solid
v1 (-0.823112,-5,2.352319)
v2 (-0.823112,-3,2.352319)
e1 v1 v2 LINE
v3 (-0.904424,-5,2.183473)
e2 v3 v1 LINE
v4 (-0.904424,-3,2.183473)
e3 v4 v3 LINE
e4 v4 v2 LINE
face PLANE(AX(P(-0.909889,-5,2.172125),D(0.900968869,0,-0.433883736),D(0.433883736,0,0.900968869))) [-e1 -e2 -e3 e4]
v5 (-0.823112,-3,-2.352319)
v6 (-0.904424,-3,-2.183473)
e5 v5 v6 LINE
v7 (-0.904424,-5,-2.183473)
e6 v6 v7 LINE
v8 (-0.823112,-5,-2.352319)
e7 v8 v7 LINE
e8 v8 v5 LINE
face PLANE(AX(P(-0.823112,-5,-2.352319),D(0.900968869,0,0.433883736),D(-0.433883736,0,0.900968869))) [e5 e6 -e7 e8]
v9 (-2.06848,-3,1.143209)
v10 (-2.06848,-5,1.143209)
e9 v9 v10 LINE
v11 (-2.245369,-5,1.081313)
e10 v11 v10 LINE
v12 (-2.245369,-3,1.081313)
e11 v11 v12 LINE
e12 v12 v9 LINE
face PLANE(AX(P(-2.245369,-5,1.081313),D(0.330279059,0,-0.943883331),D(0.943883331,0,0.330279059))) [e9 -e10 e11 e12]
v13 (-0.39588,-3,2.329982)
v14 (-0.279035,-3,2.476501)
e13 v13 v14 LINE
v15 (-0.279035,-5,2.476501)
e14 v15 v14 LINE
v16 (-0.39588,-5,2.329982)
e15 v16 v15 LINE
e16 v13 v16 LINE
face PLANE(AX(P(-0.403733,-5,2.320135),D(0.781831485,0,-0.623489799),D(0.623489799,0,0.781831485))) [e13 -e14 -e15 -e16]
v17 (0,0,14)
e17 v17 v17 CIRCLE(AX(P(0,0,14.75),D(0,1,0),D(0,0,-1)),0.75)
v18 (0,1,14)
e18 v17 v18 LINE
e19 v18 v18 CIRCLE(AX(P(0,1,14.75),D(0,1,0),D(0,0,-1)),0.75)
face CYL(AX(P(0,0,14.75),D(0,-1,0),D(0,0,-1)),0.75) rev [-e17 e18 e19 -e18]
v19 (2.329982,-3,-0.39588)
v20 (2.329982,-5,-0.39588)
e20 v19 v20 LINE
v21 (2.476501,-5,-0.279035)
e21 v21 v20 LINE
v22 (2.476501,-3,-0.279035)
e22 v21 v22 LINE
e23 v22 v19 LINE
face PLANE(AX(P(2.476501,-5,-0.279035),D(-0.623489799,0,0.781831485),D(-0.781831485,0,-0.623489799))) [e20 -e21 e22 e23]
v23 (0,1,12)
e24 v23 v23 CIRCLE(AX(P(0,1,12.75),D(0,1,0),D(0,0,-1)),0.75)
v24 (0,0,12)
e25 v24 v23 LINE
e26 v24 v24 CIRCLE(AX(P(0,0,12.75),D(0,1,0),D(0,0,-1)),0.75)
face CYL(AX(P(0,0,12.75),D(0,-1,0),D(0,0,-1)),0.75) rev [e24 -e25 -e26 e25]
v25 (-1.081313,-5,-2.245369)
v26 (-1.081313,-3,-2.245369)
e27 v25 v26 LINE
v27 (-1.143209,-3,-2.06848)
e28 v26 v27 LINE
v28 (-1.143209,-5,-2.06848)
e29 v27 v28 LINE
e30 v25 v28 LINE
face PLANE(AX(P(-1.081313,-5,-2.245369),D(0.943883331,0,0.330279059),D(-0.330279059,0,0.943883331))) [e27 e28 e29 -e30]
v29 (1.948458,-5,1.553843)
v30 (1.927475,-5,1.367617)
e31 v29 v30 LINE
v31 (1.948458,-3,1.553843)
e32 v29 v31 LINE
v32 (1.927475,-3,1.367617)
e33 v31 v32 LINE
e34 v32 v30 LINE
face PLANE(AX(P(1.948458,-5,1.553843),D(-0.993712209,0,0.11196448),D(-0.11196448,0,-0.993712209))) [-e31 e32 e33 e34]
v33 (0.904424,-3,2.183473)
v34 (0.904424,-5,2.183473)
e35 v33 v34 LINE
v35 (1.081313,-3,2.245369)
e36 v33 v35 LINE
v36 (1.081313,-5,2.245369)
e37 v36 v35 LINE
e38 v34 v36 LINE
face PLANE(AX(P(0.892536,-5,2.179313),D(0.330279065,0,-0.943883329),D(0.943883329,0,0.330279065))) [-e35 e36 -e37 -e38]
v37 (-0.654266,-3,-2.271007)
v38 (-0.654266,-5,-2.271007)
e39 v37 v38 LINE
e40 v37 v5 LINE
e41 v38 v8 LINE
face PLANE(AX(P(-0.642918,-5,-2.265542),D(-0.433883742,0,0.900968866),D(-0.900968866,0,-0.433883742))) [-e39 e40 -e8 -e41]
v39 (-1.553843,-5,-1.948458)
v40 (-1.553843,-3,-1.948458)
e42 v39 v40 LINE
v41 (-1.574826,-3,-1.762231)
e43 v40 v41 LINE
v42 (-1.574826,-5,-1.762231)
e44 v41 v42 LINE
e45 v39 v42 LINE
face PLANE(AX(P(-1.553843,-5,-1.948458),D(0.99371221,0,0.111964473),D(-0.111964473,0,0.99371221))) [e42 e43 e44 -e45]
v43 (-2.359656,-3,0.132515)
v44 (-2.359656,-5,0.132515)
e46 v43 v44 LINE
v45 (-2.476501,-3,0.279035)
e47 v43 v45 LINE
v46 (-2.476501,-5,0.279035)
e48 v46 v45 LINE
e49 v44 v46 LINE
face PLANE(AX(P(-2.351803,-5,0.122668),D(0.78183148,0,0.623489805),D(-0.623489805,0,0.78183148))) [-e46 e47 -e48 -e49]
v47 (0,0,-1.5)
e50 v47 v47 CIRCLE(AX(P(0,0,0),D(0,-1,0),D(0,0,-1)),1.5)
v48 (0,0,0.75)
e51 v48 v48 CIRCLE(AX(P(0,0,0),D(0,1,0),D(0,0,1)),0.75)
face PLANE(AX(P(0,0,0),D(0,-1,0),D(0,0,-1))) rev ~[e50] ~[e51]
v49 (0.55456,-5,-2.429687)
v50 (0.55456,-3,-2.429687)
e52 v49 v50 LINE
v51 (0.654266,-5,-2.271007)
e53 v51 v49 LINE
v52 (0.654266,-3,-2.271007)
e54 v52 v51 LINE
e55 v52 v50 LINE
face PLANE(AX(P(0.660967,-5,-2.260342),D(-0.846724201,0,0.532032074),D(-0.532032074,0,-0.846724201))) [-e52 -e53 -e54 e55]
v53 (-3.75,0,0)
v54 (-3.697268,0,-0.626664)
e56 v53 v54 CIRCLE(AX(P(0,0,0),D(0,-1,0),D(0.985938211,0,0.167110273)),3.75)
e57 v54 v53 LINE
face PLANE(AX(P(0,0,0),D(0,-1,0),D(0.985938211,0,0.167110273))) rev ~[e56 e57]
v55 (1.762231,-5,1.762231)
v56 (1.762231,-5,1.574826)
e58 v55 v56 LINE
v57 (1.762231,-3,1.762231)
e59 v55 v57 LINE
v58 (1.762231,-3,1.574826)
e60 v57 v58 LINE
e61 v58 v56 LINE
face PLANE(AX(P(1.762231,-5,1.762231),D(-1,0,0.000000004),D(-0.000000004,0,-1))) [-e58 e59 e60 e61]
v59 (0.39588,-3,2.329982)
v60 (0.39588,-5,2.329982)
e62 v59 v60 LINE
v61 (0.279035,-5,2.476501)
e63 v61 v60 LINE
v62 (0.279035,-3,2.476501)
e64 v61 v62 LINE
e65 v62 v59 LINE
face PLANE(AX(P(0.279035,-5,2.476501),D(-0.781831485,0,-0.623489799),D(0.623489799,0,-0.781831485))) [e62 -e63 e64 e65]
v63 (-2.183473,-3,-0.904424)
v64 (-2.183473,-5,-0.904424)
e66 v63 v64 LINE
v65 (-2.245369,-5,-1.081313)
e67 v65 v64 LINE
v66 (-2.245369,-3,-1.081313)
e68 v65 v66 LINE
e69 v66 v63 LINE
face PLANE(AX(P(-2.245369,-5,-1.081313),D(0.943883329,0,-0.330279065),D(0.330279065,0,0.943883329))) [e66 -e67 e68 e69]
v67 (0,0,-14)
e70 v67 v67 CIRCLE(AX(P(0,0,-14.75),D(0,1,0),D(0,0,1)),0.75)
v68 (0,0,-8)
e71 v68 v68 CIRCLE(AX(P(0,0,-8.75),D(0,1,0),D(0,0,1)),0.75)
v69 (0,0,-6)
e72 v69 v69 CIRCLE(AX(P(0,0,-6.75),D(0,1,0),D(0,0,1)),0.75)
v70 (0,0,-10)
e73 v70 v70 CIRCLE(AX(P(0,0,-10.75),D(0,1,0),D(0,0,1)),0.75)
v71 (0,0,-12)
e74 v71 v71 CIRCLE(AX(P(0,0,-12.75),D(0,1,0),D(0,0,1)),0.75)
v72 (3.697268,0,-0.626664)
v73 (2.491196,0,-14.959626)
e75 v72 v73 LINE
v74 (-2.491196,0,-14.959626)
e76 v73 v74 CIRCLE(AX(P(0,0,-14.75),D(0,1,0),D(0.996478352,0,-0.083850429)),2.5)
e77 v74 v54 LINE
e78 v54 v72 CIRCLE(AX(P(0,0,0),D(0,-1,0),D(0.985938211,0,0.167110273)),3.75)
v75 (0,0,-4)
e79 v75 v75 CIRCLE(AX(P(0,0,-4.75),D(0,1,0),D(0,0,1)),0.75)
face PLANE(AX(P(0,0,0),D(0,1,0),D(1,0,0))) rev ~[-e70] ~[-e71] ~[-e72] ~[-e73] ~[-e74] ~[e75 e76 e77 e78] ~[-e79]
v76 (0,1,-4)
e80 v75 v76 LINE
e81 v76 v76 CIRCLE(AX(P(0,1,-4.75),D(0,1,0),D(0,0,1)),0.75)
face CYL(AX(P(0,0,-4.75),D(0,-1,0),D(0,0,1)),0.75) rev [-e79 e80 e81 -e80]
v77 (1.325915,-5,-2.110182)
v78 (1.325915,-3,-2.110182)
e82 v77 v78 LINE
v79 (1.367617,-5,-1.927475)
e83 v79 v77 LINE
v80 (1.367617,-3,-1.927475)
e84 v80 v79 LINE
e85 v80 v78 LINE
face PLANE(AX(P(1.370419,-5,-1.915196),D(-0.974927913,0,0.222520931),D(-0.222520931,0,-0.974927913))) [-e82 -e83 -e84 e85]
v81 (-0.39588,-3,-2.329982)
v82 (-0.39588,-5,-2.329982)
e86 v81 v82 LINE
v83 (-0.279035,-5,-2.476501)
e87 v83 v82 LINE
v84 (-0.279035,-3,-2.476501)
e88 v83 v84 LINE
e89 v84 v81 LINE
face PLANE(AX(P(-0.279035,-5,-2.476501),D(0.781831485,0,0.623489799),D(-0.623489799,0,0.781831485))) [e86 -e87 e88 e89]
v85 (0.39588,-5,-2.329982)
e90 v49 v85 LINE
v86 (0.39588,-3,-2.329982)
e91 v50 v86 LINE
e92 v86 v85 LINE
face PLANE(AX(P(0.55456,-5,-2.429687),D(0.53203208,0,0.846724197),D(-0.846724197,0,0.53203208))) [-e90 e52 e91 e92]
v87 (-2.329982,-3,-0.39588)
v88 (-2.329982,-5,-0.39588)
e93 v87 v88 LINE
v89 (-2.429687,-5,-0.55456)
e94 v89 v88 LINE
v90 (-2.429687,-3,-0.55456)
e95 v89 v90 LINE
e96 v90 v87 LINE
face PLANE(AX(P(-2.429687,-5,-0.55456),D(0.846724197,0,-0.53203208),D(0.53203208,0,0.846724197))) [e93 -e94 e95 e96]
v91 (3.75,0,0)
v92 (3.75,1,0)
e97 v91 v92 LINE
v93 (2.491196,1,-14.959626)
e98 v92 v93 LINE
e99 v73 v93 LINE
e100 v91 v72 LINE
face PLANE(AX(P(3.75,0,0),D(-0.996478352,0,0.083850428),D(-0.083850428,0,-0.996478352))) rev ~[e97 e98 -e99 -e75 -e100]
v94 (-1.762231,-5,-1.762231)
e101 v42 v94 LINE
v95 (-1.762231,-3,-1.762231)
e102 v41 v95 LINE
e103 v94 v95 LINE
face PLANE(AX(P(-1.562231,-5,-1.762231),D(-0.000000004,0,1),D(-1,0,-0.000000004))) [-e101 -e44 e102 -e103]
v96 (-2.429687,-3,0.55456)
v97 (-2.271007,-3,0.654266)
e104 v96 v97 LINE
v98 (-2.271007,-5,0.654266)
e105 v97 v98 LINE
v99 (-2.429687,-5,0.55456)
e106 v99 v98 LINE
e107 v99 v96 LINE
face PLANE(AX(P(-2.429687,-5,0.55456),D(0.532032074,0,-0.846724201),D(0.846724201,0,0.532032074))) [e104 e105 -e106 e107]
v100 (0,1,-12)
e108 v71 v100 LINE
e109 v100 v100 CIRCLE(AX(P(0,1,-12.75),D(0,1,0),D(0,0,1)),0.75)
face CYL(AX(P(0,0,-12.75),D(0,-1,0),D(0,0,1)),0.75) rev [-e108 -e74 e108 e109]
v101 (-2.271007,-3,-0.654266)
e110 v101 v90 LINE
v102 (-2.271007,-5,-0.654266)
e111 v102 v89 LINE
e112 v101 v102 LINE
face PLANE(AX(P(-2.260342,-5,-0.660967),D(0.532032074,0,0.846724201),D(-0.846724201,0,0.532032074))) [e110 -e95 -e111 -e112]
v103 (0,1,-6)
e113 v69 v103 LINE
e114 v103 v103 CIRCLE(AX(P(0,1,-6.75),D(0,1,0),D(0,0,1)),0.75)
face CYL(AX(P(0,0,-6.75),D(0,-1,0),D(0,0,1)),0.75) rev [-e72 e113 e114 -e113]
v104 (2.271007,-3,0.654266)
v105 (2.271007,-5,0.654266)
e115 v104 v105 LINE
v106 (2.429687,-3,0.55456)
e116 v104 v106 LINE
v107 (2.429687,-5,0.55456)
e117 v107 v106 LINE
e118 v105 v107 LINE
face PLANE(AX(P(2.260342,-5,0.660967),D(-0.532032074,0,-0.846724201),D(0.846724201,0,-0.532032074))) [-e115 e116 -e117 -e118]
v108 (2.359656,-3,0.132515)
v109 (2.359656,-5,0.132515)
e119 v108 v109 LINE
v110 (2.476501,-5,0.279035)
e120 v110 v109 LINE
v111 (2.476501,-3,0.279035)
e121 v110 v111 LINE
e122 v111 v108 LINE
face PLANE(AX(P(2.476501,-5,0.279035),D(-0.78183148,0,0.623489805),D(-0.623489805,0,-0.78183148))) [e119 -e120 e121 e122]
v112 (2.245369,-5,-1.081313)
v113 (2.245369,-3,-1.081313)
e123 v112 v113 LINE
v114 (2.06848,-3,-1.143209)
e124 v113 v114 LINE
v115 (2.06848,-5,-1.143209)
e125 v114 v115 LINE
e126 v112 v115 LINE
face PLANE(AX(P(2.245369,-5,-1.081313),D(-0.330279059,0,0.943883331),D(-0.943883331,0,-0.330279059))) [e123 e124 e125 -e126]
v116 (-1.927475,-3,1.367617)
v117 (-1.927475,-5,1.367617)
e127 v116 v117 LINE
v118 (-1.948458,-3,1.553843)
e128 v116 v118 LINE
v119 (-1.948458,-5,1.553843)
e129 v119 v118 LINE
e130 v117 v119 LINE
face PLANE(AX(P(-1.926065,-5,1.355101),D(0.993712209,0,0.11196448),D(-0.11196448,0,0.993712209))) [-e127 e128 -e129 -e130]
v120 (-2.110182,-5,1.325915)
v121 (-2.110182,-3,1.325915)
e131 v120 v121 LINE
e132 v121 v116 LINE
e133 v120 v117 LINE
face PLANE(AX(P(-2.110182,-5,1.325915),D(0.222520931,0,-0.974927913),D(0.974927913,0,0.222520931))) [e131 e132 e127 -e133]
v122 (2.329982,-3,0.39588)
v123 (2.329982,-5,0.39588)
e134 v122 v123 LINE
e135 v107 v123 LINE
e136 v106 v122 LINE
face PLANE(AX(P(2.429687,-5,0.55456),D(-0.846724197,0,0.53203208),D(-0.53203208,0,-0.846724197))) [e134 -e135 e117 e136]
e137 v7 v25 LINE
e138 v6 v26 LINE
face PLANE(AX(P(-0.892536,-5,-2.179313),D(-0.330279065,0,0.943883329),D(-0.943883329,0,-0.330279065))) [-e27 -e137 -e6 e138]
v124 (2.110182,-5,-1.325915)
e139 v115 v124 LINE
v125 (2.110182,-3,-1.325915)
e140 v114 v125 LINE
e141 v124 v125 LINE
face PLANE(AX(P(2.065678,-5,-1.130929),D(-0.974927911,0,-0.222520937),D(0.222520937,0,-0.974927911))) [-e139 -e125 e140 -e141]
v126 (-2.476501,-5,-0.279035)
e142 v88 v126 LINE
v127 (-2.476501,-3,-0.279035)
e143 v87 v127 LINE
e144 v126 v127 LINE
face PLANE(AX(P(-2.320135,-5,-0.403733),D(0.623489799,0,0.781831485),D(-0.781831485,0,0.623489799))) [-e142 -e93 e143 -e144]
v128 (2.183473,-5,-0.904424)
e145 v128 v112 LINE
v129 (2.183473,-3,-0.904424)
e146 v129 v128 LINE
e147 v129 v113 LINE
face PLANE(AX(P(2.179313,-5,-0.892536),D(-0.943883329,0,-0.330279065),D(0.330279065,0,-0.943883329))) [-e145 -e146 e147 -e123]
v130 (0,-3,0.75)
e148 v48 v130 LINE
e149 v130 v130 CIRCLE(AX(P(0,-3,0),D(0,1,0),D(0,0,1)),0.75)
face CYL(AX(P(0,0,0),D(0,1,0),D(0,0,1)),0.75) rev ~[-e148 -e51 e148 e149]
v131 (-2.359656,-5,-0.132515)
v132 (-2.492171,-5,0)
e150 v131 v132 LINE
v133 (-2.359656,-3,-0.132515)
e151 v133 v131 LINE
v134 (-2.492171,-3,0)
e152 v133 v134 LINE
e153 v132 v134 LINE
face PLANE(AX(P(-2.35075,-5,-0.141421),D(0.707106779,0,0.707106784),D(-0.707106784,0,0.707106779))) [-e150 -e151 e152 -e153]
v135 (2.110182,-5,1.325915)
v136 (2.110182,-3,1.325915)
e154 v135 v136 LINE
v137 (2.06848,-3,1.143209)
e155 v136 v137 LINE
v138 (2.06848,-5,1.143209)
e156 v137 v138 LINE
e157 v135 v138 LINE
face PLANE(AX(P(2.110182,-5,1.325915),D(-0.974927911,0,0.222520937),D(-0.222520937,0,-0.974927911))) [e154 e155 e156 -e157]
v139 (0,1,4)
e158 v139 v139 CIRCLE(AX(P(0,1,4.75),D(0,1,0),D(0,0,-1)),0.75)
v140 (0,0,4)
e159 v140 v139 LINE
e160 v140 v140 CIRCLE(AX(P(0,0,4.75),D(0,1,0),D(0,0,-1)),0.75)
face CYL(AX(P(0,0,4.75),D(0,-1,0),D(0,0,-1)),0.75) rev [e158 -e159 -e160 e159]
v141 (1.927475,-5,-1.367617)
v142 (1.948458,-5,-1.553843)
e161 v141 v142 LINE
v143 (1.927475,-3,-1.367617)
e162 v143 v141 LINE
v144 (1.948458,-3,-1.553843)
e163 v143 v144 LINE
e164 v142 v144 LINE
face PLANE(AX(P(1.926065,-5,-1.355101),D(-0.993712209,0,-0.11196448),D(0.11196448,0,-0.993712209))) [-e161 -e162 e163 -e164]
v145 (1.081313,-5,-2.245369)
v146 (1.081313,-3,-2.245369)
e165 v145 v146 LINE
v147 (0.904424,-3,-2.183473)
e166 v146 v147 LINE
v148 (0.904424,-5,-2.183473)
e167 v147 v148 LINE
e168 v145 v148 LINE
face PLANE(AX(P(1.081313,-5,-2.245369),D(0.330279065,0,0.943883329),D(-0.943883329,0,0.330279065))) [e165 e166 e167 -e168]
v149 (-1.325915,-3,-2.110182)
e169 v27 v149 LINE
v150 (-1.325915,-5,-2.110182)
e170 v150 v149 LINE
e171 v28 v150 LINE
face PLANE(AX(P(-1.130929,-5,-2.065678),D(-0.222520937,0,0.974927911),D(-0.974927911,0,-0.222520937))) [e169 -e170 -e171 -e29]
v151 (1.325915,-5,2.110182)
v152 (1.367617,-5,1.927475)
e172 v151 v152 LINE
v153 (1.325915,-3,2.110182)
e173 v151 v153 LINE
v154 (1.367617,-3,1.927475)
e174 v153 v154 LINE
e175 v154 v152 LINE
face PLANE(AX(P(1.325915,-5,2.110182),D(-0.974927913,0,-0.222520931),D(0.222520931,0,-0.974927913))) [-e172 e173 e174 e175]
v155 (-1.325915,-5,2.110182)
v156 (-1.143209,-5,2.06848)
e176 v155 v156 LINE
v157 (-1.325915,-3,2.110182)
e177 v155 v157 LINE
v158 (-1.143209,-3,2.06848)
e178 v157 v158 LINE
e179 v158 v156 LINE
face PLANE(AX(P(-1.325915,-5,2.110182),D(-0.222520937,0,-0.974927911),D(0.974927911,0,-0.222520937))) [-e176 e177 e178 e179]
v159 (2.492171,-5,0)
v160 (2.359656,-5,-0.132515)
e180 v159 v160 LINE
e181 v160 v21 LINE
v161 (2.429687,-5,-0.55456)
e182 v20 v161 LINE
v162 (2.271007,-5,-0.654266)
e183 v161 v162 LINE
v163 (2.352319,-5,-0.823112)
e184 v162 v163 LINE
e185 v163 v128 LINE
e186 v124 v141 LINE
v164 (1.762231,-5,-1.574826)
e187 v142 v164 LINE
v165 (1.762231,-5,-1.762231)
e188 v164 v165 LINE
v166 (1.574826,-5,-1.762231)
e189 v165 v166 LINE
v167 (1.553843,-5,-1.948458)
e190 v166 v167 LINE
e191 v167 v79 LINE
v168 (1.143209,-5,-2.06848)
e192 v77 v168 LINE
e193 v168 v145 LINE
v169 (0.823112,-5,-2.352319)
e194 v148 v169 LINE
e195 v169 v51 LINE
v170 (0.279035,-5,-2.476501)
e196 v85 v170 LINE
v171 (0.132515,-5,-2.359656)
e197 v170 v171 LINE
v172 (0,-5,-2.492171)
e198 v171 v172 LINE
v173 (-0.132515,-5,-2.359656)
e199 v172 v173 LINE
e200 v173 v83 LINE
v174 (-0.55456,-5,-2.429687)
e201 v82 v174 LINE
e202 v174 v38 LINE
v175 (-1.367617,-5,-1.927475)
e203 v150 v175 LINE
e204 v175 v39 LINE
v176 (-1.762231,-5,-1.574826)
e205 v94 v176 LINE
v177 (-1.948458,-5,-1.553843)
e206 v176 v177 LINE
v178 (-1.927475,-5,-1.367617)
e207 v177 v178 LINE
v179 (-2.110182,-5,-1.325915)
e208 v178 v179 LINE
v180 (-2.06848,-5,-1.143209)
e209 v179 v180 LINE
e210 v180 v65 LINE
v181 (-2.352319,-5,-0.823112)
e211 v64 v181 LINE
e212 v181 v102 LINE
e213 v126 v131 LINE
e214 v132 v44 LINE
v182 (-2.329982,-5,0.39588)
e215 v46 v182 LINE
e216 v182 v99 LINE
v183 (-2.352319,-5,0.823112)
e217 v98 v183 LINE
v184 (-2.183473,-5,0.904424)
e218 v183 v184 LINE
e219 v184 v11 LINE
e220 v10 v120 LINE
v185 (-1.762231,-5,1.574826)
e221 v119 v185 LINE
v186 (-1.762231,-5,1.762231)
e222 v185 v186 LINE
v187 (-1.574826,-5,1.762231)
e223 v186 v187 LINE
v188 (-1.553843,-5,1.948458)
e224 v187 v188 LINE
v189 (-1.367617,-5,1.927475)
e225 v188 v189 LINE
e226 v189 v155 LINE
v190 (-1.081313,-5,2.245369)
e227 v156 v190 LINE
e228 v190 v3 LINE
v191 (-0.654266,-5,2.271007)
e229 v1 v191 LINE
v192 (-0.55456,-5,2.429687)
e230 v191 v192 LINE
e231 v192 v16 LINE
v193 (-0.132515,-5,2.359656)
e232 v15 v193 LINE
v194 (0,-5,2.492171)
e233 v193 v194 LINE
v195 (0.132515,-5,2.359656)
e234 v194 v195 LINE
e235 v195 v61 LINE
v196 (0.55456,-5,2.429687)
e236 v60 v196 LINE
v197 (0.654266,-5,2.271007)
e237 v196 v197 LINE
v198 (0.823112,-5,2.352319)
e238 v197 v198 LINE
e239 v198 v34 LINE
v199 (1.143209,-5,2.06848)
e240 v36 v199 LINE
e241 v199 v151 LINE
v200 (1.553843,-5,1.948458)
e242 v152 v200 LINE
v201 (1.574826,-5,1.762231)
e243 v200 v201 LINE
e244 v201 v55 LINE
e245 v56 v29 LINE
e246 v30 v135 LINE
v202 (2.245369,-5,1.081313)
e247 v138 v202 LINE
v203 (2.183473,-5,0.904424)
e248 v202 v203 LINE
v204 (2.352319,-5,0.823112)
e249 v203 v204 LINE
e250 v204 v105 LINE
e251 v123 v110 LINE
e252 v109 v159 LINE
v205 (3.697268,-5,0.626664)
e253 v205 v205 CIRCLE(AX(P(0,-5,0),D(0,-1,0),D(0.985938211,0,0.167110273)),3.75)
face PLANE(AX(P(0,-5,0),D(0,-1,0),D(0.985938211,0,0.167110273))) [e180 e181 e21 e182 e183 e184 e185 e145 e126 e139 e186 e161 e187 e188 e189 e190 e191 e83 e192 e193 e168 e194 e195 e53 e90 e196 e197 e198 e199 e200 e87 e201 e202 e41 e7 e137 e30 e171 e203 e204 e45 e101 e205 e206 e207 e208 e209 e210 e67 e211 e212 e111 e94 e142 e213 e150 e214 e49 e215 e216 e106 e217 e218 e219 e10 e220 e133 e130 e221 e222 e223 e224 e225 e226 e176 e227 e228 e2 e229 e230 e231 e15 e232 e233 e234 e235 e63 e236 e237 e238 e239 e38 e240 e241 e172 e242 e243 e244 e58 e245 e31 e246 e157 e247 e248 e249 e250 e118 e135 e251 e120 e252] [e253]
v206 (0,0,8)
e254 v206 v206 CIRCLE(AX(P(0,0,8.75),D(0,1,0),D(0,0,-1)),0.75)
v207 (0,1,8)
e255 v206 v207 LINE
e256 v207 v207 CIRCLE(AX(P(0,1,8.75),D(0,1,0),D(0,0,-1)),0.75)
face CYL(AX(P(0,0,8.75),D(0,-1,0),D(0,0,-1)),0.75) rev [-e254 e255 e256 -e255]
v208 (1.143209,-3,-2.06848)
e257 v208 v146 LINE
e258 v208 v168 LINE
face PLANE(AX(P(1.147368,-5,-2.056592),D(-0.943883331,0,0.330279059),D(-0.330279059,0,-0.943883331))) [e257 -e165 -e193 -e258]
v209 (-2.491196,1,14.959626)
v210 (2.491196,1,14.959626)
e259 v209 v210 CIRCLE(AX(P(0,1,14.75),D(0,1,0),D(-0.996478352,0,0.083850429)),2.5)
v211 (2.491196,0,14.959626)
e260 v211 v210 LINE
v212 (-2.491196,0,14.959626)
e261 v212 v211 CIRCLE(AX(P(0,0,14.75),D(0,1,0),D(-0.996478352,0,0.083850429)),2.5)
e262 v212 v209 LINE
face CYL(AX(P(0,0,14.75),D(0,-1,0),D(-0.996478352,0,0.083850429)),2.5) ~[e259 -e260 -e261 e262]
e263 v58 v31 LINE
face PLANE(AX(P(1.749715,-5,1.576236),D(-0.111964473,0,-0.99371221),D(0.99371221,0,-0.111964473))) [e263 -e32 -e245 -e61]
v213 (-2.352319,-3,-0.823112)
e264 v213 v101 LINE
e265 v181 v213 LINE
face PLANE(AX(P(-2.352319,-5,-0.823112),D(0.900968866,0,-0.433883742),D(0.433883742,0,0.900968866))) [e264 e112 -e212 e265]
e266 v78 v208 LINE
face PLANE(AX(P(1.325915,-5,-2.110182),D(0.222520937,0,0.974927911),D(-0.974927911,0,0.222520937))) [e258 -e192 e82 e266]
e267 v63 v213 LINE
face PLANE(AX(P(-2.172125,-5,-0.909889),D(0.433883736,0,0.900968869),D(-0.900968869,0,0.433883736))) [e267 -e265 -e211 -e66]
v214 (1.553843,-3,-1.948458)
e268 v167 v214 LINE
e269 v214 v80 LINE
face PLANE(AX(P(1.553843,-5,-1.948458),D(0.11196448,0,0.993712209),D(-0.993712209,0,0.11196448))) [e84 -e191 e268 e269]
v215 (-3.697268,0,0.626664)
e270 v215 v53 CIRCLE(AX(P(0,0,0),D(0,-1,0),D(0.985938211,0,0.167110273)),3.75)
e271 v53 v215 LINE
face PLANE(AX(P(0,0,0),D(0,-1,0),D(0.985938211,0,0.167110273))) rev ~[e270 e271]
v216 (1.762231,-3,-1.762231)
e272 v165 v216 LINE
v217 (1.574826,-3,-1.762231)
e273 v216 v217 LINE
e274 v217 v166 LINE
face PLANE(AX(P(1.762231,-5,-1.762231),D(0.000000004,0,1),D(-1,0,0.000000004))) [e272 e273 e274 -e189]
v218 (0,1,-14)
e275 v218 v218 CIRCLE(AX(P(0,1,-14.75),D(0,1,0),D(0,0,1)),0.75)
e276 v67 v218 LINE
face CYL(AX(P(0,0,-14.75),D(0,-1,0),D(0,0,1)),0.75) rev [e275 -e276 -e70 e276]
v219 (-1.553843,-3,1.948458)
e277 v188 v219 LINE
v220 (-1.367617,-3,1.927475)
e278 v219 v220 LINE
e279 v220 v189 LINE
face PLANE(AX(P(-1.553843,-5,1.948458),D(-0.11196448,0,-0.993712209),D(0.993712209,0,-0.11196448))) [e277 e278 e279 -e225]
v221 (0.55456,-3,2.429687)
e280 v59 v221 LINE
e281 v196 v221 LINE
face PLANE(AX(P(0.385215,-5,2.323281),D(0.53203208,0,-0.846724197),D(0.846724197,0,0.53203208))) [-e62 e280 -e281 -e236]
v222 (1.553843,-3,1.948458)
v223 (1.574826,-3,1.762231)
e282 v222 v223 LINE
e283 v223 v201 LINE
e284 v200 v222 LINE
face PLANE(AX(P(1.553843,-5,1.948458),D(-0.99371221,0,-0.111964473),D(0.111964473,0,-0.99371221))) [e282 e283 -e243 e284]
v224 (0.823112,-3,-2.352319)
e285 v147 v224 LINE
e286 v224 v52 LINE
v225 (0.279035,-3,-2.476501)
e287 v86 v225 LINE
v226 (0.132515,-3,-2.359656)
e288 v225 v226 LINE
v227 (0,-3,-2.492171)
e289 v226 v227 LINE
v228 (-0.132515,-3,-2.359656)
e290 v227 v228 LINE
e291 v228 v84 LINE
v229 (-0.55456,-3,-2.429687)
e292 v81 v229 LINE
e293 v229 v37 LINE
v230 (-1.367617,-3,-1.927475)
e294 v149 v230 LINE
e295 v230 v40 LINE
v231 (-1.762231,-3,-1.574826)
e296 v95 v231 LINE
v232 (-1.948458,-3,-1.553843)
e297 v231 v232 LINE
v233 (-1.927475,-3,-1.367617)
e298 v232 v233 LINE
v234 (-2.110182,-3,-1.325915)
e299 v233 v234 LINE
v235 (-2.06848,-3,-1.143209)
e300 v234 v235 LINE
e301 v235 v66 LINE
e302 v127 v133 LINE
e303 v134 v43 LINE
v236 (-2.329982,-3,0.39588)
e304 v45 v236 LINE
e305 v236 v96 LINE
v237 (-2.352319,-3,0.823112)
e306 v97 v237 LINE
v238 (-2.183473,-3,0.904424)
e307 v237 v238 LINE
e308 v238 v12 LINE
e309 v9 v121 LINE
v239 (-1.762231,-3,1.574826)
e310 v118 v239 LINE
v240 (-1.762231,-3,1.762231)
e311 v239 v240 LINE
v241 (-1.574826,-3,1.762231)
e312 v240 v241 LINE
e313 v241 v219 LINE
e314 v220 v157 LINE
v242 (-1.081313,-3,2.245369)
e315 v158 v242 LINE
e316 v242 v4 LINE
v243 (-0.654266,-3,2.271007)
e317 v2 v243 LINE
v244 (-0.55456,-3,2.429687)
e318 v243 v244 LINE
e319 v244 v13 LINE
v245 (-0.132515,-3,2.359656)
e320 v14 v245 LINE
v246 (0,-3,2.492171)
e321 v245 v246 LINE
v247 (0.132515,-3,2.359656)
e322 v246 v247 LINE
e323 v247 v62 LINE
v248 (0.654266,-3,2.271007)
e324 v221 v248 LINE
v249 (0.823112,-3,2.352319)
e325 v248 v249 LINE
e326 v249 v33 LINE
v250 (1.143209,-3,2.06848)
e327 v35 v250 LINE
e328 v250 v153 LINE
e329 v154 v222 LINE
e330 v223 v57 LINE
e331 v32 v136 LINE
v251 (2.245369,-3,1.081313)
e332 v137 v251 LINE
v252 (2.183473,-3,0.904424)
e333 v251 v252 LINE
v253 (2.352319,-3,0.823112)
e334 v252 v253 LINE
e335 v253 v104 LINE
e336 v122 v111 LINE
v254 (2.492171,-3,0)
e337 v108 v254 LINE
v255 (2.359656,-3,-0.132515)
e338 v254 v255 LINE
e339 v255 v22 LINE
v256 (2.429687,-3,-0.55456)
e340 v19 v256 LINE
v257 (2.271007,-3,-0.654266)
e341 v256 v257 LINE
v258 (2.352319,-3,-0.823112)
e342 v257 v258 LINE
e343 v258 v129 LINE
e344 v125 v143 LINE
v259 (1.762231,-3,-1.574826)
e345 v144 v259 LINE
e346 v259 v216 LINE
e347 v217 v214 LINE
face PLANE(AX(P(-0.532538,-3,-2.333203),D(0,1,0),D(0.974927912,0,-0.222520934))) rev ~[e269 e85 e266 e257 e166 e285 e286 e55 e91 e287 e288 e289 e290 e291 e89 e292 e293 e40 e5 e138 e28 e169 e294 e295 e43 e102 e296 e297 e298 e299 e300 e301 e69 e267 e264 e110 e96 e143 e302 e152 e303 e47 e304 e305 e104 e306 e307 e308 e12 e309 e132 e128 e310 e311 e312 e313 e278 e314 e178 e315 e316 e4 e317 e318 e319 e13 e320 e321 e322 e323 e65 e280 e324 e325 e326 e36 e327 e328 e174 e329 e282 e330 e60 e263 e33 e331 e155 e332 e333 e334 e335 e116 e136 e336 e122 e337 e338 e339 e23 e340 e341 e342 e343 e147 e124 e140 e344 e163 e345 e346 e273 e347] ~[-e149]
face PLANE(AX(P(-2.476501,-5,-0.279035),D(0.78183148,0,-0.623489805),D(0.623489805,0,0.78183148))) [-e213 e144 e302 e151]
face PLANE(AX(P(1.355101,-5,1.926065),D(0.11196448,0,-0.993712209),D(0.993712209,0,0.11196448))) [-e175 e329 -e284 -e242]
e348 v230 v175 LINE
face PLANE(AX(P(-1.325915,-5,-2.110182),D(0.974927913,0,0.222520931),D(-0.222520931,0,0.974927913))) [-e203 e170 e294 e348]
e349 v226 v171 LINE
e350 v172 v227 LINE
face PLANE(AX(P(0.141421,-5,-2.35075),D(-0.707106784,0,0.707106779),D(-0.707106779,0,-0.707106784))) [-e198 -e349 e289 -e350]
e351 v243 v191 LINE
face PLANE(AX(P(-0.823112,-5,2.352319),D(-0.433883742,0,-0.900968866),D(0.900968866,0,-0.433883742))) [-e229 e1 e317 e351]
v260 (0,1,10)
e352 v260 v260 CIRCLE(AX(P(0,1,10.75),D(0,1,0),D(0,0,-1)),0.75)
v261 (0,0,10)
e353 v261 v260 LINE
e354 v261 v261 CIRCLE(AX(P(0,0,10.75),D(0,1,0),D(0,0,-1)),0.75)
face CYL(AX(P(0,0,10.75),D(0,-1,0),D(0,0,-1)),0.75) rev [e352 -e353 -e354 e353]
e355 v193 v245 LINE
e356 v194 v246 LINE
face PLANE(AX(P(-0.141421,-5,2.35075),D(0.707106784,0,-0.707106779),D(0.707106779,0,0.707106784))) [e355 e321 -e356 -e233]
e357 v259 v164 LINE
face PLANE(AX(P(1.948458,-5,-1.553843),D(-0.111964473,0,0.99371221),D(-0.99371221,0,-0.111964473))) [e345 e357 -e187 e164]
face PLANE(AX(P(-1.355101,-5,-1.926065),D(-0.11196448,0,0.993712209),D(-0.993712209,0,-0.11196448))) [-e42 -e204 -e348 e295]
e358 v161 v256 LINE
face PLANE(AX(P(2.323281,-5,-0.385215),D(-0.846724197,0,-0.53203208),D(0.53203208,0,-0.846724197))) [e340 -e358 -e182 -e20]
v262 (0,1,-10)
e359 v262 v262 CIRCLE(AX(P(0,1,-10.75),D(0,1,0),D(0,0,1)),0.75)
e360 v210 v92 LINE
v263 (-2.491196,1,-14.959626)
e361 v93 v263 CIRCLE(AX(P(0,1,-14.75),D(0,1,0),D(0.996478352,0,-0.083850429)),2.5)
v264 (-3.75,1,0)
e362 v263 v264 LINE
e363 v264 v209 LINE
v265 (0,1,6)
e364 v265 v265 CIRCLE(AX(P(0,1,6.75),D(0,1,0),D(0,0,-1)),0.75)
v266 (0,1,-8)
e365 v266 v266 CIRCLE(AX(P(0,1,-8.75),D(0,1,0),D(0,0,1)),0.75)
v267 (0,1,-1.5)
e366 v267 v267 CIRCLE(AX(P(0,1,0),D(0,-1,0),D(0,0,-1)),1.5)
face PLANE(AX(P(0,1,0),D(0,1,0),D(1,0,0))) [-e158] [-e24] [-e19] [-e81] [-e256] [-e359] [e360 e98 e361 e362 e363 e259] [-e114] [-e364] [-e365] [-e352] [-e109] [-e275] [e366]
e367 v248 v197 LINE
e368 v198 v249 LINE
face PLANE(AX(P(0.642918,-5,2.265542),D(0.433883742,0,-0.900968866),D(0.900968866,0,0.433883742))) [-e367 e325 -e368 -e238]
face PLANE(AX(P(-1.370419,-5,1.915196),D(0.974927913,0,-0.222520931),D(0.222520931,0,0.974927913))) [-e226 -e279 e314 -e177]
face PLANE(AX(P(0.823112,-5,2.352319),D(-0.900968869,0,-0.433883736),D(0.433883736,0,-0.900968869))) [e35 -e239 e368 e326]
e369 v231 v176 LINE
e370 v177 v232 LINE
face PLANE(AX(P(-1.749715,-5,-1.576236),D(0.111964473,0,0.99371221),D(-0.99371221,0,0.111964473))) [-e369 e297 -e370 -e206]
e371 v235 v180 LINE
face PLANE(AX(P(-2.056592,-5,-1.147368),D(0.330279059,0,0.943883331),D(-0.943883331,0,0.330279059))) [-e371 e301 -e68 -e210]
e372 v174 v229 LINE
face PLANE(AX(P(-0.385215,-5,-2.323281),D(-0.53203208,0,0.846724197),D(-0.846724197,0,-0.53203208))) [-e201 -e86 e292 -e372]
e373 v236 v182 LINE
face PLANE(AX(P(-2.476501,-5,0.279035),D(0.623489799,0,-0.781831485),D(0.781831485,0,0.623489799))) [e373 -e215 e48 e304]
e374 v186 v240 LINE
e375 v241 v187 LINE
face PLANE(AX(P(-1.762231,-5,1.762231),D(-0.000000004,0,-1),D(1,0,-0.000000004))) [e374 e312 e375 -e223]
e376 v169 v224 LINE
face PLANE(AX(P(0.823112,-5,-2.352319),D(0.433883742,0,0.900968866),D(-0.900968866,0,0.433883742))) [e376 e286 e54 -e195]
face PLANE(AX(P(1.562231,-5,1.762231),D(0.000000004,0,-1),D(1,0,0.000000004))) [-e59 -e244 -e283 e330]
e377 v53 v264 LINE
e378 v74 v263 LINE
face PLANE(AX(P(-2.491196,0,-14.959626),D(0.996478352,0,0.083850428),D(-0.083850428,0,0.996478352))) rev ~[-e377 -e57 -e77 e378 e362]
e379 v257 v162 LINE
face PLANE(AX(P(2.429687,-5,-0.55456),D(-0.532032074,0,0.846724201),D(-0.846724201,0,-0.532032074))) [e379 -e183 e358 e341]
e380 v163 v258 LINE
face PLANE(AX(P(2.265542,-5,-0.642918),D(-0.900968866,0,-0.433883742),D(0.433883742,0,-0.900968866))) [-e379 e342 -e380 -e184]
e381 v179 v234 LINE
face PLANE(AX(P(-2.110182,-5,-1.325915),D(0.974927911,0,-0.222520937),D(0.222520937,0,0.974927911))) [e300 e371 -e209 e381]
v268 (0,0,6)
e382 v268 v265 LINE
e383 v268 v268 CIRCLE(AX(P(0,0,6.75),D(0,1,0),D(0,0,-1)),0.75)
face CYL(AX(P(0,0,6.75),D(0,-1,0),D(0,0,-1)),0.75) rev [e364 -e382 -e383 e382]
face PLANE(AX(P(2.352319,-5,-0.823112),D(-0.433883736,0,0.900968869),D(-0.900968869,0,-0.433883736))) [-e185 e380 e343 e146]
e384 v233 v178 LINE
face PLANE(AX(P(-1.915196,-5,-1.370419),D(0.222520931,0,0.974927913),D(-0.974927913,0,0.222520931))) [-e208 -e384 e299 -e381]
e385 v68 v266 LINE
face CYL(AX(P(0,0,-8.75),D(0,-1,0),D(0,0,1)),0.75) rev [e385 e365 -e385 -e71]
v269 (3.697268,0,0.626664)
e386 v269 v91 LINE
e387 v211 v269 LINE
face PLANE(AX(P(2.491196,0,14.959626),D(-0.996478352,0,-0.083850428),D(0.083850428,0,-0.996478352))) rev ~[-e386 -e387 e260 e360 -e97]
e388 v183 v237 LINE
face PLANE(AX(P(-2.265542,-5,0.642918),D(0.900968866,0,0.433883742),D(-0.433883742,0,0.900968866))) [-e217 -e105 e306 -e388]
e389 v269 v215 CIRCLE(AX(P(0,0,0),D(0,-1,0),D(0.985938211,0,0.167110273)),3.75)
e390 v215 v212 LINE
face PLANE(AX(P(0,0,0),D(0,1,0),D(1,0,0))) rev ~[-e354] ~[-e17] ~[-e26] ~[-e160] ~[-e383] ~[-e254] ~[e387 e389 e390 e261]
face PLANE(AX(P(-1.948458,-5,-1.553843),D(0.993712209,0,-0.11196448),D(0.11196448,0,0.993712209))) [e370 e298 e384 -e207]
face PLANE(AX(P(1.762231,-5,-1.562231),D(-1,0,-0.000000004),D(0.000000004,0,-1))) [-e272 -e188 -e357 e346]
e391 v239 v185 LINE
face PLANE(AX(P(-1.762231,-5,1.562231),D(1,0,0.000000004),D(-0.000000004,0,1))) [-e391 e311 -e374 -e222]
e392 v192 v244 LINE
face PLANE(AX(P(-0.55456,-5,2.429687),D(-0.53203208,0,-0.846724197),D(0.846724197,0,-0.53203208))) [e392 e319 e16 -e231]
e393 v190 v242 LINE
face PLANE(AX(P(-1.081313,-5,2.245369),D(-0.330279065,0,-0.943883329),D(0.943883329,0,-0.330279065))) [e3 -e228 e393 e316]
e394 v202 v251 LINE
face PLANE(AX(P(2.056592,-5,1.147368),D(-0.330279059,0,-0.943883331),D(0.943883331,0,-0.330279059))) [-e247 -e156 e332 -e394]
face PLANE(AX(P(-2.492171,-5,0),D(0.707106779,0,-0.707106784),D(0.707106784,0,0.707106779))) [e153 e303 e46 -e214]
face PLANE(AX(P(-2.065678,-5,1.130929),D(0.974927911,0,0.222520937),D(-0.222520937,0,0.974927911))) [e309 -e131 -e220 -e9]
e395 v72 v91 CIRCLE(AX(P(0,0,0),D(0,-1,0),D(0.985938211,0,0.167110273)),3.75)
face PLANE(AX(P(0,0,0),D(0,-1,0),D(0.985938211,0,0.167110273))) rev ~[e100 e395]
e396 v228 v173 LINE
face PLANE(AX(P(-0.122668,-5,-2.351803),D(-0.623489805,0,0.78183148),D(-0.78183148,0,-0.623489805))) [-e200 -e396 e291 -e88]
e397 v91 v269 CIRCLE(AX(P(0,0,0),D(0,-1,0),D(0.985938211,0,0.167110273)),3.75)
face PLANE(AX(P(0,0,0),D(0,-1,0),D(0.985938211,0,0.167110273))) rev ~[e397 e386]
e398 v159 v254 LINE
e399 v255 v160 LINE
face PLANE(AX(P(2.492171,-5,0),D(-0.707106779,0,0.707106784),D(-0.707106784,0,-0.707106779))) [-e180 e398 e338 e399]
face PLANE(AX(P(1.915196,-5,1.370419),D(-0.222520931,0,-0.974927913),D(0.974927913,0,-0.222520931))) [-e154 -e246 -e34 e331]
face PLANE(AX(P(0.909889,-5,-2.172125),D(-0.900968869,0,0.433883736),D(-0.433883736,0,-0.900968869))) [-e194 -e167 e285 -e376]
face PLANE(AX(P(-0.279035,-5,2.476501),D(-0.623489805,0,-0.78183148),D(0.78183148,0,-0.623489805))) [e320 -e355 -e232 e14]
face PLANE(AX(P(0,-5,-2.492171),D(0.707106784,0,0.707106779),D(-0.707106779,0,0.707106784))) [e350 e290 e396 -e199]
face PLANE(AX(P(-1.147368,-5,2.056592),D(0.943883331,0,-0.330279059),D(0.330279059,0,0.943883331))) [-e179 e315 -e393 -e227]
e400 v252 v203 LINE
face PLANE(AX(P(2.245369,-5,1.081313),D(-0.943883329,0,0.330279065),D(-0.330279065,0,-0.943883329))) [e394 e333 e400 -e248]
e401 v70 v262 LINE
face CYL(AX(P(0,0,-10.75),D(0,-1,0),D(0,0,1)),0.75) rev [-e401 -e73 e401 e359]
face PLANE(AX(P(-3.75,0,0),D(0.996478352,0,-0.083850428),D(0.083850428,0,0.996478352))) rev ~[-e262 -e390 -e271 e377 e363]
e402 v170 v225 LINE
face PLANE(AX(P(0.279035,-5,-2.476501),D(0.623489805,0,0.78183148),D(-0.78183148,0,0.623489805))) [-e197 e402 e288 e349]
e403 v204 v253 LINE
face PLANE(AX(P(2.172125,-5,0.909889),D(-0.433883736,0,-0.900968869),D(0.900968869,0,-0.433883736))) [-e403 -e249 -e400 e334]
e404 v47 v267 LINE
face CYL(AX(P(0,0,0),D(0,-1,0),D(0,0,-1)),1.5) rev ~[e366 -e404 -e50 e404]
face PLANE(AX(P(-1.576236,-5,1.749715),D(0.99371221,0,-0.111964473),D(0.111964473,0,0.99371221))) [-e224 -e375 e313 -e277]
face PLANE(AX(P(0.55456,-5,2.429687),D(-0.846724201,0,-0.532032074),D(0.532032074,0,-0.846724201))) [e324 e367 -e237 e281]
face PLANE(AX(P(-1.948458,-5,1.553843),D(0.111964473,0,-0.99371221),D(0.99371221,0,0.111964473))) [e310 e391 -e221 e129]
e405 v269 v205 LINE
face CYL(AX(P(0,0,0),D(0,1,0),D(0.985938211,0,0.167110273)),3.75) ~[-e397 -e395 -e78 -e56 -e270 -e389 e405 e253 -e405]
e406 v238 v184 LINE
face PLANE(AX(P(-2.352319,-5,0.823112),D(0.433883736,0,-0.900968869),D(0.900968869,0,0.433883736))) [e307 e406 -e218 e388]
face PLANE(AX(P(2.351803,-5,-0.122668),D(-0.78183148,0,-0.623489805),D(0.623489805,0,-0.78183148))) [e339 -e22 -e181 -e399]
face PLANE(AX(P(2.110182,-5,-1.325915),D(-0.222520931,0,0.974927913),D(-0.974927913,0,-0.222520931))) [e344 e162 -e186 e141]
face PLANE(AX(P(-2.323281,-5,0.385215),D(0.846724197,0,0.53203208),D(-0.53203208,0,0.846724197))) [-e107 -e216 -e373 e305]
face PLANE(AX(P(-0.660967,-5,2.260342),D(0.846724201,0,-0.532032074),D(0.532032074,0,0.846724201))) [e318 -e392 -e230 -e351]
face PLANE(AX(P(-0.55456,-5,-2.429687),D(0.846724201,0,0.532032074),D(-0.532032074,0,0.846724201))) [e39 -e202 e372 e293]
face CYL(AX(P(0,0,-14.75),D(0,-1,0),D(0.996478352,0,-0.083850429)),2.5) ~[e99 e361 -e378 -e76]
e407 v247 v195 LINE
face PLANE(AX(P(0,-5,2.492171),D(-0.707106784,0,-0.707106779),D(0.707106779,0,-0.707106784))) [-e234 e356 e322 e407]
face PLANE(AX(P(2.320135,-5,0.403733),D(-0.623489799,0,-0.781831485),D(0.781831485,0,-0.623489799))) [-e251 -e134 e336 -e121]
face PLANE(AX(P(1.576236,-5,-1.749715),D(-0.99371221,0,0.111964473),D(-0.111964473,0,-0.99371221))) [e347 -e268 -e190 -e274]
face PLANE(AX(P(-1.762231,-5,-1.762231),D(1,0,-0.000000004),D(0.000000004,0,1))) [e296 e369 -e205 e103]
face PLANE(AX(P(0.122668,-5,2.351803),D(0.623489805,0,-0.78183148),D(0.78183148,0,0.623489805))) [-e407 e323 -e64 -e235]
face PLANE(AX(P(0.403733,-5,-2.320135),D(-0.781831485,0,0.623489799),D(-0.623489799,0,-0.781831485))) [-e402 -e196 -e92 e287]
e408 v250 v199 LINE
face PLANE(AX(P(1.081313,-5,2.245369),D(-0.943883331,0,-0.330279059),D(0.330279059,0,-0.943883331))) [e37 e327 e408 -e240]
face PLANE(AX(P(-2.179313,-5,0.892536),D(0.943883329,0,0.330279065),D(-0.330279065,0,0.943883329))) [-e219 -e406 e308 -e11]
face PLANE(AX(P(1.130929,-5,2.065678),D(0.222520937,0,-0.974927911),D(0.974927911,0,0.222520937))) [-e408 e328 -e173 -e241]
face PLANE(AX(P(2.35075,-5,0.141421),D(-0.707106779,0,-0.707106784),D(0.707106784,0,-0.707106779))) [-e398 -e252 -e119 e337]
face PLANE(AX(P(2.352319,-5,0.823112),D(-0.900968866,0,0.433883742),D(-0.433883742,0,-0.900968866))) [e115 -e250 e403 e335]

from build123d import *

# Parameters (mm, degrees)
SKETCH1_R           = 0.75
BOSS_EXTRUDE1_DEPTH = 1
SKETCH3_R           = 3.75
BOSS_EXTRUDE2_DEPTH = 5
SKETCH3_3_R         = 1.5
CUT_EXTRUDE1_DEPTH  = 19.347343132
SKETCH1_2_R         = 0.75
CUT_EXTRUDE2_DEPTH  = 19.347343132
SKETCH4_R           = 2.355
CUT_EXTRUDE3_DEPTH  = 2
CUT_EXTRUDE4_DEPTH  = 2
CIRPATTERN1_COUNT   = 56


with BuildPart() as part:
    # Sketch1 → Boss-Extrude1 (new body)
    with BuildSketch(Plane(origin=(0, 0, 0), x_dir=(1, 0, 0), z_dir=(0, 1, 0))):
        with BuildLine():
            Line((-2.49119588, 14.959626071), (-3.75, 0))
            Line((-3.75, 0), (-2.49119588, -14.959626071))
            ThreePointArc((-2.49119588, -14.959626071), (0, -17.25), (2.49119588, -14.959626071))
            Line((2.49119588, -14.959626071), (3.75, 0))
            Line((3.75, 0), (2.49119588, 14.959626071))
            ThreePointArc((2.49119588, 14.959626071), (0, 17.25), (-2.49119588, 14.959626071))
        make_face()
        with Locations(Location((0, 14.75, 0), (0, 0, 270))):
            Circle(SKETCH1_R, mode=Mode.SUBTRACT)
        with Locations(Location((0, 12.75, 0), (0, 0, 270))):
            Circle(SKETCH1_R, mode=Mode.SUBTRACT)
        with Locations(Location((0, 10.75, 0), (0, 0, 270))):
            Circle(SKETCH1_R, mode=Mode.SUBTRACT)
        with Locations(Location((0, 8.75, 0), (0, 0, 270))):
            Circle(SKETCH1_R, mode=Mode.SUBTRACT)
        with Locations(Location((0, 6.75, 0), (0, 0, 270))):
            Circle(SKETCH1_R, mode=Mode.SUBTRACT)
        with Locations(Location((0, 4.75, 0), (0, 0, 270))):
            Circle(SKETCH1_R, mode=Mode.SUBTRACT)
        with Locations(Location((0, 0, 0), (0, 0, 270))):
            Circle(SKETCH1_R, mode=Mode.SUBTRACT)
        with Locations(Location((0, -14.75, 0), (0, 0, 90))):
            Circle(SKETCH1_R, mode=Mode.SUBTRACT)
        with Locations(Location((0, -12.75, 0), (0, 0, 90))):
            Circle(SKETCH1_R, mode=Mode.SUBTRACT)
        with Locations(Location((0, -10.75, 0), (0, 0, 90))):
            Circle(SKETCH1_R, mode=Mode.SUBTRACT)
        with Locations(Location((0, -8.75, 0), (0, 0, 90))):
            Circle(SKETCH1_R, mode=Mode.SUBTRACT)
        with Locations(Location((0, -6.75, 0), (0, 0, 90))):
            Circle(SKETCH1_R, mode=Mode.SUBTRACT)
        with Locations(Location((0, -4.75, 0), (0, 0, 90))):
            Circle(SKETCH1_R, mode=Mode.SUBTRACT)
    extrude(amount=BOSS_EXTRUDE1_DEPTH)

    # Sketch3 → Boss-Extrude2 (add)
    with BuildSketch(Plane.XZ):
        with Locations(Location((0, 0, 0), (0, 0, 9.619846544))):
            Circle(SKETCH3_R)
    extrude(amount=BOSS_EXTRUDE2_DEPTH)

    # Sketch3<3> → Cut-Extrude1 (cut, through all)
    with BuildSketch(Plane.XZ):
        with Locations(Location((0, 0, 0), (0, 0, 270))):
            Circle(SKETCH3_3_R)
    extrude(amount=-CUT_EXTRUDE1_DEPTH, mode=Mode.SUBTRACT)

    # Sketch1<2> → Cut-Extrude2 (cut, through all)
    with BuildSketch(Plane(origin=(0, 0, 0), x_dir=(1, 0, 0), z_dir=(0, 1, 0))):
        with Locations(Location((0, 0, 0), (0, 0, 270))):
            Circle(SKETCH1_2_R)
    extrude(amount=-CUT_EXTRUDE2_DEPTH, mode=Mode.SUBTRACT)

    # Sketch4 → Cut-Extrude3 (cut)
    with BuildSketch(Plane.XZ.offset(5)):
        with Locations(Location((0, 0, 0), (0, 0, 270))):
            Circle(SKETCH4_R)
    extrude(amount=-CUT_EXTRUDE3_DEPTH, mode=Mode.SUBTRACT)

    # Sketch5 → Cut-Extrude4 (cut)
    with BuildSketch(Plane.XZ.offset(5)):
        with BuildLine():
            Line((-0.141421356, 2.35074988), (0, 2.492171237))
            Line((0, 2.492171237), (0.141421356, 2.35074988))
            ThreePointArc((0.141421356, 2.35074988), (0, 2.355), (-0.141421356, 2.35074988))
        make_face()
    cut_extrude4 = extrude(amount=-CUT_EXTRUDE4_DEPTH, mode=Mode.SUBTRACT)

    # CirPattern1: Cut-Extrude4 ×56 about axis
    cirpattern1_axis = Axis((0, 0, 0), (0, 1, 0))
    for i in range(1, CIRPATTERN1_COUNT):
        add(cut_extrude4.rotate(cirpattern1_axis, i * 360 / CIRPATTERN1_COUNT), mode=Mode.SUBTRACT)


solid = part.part
